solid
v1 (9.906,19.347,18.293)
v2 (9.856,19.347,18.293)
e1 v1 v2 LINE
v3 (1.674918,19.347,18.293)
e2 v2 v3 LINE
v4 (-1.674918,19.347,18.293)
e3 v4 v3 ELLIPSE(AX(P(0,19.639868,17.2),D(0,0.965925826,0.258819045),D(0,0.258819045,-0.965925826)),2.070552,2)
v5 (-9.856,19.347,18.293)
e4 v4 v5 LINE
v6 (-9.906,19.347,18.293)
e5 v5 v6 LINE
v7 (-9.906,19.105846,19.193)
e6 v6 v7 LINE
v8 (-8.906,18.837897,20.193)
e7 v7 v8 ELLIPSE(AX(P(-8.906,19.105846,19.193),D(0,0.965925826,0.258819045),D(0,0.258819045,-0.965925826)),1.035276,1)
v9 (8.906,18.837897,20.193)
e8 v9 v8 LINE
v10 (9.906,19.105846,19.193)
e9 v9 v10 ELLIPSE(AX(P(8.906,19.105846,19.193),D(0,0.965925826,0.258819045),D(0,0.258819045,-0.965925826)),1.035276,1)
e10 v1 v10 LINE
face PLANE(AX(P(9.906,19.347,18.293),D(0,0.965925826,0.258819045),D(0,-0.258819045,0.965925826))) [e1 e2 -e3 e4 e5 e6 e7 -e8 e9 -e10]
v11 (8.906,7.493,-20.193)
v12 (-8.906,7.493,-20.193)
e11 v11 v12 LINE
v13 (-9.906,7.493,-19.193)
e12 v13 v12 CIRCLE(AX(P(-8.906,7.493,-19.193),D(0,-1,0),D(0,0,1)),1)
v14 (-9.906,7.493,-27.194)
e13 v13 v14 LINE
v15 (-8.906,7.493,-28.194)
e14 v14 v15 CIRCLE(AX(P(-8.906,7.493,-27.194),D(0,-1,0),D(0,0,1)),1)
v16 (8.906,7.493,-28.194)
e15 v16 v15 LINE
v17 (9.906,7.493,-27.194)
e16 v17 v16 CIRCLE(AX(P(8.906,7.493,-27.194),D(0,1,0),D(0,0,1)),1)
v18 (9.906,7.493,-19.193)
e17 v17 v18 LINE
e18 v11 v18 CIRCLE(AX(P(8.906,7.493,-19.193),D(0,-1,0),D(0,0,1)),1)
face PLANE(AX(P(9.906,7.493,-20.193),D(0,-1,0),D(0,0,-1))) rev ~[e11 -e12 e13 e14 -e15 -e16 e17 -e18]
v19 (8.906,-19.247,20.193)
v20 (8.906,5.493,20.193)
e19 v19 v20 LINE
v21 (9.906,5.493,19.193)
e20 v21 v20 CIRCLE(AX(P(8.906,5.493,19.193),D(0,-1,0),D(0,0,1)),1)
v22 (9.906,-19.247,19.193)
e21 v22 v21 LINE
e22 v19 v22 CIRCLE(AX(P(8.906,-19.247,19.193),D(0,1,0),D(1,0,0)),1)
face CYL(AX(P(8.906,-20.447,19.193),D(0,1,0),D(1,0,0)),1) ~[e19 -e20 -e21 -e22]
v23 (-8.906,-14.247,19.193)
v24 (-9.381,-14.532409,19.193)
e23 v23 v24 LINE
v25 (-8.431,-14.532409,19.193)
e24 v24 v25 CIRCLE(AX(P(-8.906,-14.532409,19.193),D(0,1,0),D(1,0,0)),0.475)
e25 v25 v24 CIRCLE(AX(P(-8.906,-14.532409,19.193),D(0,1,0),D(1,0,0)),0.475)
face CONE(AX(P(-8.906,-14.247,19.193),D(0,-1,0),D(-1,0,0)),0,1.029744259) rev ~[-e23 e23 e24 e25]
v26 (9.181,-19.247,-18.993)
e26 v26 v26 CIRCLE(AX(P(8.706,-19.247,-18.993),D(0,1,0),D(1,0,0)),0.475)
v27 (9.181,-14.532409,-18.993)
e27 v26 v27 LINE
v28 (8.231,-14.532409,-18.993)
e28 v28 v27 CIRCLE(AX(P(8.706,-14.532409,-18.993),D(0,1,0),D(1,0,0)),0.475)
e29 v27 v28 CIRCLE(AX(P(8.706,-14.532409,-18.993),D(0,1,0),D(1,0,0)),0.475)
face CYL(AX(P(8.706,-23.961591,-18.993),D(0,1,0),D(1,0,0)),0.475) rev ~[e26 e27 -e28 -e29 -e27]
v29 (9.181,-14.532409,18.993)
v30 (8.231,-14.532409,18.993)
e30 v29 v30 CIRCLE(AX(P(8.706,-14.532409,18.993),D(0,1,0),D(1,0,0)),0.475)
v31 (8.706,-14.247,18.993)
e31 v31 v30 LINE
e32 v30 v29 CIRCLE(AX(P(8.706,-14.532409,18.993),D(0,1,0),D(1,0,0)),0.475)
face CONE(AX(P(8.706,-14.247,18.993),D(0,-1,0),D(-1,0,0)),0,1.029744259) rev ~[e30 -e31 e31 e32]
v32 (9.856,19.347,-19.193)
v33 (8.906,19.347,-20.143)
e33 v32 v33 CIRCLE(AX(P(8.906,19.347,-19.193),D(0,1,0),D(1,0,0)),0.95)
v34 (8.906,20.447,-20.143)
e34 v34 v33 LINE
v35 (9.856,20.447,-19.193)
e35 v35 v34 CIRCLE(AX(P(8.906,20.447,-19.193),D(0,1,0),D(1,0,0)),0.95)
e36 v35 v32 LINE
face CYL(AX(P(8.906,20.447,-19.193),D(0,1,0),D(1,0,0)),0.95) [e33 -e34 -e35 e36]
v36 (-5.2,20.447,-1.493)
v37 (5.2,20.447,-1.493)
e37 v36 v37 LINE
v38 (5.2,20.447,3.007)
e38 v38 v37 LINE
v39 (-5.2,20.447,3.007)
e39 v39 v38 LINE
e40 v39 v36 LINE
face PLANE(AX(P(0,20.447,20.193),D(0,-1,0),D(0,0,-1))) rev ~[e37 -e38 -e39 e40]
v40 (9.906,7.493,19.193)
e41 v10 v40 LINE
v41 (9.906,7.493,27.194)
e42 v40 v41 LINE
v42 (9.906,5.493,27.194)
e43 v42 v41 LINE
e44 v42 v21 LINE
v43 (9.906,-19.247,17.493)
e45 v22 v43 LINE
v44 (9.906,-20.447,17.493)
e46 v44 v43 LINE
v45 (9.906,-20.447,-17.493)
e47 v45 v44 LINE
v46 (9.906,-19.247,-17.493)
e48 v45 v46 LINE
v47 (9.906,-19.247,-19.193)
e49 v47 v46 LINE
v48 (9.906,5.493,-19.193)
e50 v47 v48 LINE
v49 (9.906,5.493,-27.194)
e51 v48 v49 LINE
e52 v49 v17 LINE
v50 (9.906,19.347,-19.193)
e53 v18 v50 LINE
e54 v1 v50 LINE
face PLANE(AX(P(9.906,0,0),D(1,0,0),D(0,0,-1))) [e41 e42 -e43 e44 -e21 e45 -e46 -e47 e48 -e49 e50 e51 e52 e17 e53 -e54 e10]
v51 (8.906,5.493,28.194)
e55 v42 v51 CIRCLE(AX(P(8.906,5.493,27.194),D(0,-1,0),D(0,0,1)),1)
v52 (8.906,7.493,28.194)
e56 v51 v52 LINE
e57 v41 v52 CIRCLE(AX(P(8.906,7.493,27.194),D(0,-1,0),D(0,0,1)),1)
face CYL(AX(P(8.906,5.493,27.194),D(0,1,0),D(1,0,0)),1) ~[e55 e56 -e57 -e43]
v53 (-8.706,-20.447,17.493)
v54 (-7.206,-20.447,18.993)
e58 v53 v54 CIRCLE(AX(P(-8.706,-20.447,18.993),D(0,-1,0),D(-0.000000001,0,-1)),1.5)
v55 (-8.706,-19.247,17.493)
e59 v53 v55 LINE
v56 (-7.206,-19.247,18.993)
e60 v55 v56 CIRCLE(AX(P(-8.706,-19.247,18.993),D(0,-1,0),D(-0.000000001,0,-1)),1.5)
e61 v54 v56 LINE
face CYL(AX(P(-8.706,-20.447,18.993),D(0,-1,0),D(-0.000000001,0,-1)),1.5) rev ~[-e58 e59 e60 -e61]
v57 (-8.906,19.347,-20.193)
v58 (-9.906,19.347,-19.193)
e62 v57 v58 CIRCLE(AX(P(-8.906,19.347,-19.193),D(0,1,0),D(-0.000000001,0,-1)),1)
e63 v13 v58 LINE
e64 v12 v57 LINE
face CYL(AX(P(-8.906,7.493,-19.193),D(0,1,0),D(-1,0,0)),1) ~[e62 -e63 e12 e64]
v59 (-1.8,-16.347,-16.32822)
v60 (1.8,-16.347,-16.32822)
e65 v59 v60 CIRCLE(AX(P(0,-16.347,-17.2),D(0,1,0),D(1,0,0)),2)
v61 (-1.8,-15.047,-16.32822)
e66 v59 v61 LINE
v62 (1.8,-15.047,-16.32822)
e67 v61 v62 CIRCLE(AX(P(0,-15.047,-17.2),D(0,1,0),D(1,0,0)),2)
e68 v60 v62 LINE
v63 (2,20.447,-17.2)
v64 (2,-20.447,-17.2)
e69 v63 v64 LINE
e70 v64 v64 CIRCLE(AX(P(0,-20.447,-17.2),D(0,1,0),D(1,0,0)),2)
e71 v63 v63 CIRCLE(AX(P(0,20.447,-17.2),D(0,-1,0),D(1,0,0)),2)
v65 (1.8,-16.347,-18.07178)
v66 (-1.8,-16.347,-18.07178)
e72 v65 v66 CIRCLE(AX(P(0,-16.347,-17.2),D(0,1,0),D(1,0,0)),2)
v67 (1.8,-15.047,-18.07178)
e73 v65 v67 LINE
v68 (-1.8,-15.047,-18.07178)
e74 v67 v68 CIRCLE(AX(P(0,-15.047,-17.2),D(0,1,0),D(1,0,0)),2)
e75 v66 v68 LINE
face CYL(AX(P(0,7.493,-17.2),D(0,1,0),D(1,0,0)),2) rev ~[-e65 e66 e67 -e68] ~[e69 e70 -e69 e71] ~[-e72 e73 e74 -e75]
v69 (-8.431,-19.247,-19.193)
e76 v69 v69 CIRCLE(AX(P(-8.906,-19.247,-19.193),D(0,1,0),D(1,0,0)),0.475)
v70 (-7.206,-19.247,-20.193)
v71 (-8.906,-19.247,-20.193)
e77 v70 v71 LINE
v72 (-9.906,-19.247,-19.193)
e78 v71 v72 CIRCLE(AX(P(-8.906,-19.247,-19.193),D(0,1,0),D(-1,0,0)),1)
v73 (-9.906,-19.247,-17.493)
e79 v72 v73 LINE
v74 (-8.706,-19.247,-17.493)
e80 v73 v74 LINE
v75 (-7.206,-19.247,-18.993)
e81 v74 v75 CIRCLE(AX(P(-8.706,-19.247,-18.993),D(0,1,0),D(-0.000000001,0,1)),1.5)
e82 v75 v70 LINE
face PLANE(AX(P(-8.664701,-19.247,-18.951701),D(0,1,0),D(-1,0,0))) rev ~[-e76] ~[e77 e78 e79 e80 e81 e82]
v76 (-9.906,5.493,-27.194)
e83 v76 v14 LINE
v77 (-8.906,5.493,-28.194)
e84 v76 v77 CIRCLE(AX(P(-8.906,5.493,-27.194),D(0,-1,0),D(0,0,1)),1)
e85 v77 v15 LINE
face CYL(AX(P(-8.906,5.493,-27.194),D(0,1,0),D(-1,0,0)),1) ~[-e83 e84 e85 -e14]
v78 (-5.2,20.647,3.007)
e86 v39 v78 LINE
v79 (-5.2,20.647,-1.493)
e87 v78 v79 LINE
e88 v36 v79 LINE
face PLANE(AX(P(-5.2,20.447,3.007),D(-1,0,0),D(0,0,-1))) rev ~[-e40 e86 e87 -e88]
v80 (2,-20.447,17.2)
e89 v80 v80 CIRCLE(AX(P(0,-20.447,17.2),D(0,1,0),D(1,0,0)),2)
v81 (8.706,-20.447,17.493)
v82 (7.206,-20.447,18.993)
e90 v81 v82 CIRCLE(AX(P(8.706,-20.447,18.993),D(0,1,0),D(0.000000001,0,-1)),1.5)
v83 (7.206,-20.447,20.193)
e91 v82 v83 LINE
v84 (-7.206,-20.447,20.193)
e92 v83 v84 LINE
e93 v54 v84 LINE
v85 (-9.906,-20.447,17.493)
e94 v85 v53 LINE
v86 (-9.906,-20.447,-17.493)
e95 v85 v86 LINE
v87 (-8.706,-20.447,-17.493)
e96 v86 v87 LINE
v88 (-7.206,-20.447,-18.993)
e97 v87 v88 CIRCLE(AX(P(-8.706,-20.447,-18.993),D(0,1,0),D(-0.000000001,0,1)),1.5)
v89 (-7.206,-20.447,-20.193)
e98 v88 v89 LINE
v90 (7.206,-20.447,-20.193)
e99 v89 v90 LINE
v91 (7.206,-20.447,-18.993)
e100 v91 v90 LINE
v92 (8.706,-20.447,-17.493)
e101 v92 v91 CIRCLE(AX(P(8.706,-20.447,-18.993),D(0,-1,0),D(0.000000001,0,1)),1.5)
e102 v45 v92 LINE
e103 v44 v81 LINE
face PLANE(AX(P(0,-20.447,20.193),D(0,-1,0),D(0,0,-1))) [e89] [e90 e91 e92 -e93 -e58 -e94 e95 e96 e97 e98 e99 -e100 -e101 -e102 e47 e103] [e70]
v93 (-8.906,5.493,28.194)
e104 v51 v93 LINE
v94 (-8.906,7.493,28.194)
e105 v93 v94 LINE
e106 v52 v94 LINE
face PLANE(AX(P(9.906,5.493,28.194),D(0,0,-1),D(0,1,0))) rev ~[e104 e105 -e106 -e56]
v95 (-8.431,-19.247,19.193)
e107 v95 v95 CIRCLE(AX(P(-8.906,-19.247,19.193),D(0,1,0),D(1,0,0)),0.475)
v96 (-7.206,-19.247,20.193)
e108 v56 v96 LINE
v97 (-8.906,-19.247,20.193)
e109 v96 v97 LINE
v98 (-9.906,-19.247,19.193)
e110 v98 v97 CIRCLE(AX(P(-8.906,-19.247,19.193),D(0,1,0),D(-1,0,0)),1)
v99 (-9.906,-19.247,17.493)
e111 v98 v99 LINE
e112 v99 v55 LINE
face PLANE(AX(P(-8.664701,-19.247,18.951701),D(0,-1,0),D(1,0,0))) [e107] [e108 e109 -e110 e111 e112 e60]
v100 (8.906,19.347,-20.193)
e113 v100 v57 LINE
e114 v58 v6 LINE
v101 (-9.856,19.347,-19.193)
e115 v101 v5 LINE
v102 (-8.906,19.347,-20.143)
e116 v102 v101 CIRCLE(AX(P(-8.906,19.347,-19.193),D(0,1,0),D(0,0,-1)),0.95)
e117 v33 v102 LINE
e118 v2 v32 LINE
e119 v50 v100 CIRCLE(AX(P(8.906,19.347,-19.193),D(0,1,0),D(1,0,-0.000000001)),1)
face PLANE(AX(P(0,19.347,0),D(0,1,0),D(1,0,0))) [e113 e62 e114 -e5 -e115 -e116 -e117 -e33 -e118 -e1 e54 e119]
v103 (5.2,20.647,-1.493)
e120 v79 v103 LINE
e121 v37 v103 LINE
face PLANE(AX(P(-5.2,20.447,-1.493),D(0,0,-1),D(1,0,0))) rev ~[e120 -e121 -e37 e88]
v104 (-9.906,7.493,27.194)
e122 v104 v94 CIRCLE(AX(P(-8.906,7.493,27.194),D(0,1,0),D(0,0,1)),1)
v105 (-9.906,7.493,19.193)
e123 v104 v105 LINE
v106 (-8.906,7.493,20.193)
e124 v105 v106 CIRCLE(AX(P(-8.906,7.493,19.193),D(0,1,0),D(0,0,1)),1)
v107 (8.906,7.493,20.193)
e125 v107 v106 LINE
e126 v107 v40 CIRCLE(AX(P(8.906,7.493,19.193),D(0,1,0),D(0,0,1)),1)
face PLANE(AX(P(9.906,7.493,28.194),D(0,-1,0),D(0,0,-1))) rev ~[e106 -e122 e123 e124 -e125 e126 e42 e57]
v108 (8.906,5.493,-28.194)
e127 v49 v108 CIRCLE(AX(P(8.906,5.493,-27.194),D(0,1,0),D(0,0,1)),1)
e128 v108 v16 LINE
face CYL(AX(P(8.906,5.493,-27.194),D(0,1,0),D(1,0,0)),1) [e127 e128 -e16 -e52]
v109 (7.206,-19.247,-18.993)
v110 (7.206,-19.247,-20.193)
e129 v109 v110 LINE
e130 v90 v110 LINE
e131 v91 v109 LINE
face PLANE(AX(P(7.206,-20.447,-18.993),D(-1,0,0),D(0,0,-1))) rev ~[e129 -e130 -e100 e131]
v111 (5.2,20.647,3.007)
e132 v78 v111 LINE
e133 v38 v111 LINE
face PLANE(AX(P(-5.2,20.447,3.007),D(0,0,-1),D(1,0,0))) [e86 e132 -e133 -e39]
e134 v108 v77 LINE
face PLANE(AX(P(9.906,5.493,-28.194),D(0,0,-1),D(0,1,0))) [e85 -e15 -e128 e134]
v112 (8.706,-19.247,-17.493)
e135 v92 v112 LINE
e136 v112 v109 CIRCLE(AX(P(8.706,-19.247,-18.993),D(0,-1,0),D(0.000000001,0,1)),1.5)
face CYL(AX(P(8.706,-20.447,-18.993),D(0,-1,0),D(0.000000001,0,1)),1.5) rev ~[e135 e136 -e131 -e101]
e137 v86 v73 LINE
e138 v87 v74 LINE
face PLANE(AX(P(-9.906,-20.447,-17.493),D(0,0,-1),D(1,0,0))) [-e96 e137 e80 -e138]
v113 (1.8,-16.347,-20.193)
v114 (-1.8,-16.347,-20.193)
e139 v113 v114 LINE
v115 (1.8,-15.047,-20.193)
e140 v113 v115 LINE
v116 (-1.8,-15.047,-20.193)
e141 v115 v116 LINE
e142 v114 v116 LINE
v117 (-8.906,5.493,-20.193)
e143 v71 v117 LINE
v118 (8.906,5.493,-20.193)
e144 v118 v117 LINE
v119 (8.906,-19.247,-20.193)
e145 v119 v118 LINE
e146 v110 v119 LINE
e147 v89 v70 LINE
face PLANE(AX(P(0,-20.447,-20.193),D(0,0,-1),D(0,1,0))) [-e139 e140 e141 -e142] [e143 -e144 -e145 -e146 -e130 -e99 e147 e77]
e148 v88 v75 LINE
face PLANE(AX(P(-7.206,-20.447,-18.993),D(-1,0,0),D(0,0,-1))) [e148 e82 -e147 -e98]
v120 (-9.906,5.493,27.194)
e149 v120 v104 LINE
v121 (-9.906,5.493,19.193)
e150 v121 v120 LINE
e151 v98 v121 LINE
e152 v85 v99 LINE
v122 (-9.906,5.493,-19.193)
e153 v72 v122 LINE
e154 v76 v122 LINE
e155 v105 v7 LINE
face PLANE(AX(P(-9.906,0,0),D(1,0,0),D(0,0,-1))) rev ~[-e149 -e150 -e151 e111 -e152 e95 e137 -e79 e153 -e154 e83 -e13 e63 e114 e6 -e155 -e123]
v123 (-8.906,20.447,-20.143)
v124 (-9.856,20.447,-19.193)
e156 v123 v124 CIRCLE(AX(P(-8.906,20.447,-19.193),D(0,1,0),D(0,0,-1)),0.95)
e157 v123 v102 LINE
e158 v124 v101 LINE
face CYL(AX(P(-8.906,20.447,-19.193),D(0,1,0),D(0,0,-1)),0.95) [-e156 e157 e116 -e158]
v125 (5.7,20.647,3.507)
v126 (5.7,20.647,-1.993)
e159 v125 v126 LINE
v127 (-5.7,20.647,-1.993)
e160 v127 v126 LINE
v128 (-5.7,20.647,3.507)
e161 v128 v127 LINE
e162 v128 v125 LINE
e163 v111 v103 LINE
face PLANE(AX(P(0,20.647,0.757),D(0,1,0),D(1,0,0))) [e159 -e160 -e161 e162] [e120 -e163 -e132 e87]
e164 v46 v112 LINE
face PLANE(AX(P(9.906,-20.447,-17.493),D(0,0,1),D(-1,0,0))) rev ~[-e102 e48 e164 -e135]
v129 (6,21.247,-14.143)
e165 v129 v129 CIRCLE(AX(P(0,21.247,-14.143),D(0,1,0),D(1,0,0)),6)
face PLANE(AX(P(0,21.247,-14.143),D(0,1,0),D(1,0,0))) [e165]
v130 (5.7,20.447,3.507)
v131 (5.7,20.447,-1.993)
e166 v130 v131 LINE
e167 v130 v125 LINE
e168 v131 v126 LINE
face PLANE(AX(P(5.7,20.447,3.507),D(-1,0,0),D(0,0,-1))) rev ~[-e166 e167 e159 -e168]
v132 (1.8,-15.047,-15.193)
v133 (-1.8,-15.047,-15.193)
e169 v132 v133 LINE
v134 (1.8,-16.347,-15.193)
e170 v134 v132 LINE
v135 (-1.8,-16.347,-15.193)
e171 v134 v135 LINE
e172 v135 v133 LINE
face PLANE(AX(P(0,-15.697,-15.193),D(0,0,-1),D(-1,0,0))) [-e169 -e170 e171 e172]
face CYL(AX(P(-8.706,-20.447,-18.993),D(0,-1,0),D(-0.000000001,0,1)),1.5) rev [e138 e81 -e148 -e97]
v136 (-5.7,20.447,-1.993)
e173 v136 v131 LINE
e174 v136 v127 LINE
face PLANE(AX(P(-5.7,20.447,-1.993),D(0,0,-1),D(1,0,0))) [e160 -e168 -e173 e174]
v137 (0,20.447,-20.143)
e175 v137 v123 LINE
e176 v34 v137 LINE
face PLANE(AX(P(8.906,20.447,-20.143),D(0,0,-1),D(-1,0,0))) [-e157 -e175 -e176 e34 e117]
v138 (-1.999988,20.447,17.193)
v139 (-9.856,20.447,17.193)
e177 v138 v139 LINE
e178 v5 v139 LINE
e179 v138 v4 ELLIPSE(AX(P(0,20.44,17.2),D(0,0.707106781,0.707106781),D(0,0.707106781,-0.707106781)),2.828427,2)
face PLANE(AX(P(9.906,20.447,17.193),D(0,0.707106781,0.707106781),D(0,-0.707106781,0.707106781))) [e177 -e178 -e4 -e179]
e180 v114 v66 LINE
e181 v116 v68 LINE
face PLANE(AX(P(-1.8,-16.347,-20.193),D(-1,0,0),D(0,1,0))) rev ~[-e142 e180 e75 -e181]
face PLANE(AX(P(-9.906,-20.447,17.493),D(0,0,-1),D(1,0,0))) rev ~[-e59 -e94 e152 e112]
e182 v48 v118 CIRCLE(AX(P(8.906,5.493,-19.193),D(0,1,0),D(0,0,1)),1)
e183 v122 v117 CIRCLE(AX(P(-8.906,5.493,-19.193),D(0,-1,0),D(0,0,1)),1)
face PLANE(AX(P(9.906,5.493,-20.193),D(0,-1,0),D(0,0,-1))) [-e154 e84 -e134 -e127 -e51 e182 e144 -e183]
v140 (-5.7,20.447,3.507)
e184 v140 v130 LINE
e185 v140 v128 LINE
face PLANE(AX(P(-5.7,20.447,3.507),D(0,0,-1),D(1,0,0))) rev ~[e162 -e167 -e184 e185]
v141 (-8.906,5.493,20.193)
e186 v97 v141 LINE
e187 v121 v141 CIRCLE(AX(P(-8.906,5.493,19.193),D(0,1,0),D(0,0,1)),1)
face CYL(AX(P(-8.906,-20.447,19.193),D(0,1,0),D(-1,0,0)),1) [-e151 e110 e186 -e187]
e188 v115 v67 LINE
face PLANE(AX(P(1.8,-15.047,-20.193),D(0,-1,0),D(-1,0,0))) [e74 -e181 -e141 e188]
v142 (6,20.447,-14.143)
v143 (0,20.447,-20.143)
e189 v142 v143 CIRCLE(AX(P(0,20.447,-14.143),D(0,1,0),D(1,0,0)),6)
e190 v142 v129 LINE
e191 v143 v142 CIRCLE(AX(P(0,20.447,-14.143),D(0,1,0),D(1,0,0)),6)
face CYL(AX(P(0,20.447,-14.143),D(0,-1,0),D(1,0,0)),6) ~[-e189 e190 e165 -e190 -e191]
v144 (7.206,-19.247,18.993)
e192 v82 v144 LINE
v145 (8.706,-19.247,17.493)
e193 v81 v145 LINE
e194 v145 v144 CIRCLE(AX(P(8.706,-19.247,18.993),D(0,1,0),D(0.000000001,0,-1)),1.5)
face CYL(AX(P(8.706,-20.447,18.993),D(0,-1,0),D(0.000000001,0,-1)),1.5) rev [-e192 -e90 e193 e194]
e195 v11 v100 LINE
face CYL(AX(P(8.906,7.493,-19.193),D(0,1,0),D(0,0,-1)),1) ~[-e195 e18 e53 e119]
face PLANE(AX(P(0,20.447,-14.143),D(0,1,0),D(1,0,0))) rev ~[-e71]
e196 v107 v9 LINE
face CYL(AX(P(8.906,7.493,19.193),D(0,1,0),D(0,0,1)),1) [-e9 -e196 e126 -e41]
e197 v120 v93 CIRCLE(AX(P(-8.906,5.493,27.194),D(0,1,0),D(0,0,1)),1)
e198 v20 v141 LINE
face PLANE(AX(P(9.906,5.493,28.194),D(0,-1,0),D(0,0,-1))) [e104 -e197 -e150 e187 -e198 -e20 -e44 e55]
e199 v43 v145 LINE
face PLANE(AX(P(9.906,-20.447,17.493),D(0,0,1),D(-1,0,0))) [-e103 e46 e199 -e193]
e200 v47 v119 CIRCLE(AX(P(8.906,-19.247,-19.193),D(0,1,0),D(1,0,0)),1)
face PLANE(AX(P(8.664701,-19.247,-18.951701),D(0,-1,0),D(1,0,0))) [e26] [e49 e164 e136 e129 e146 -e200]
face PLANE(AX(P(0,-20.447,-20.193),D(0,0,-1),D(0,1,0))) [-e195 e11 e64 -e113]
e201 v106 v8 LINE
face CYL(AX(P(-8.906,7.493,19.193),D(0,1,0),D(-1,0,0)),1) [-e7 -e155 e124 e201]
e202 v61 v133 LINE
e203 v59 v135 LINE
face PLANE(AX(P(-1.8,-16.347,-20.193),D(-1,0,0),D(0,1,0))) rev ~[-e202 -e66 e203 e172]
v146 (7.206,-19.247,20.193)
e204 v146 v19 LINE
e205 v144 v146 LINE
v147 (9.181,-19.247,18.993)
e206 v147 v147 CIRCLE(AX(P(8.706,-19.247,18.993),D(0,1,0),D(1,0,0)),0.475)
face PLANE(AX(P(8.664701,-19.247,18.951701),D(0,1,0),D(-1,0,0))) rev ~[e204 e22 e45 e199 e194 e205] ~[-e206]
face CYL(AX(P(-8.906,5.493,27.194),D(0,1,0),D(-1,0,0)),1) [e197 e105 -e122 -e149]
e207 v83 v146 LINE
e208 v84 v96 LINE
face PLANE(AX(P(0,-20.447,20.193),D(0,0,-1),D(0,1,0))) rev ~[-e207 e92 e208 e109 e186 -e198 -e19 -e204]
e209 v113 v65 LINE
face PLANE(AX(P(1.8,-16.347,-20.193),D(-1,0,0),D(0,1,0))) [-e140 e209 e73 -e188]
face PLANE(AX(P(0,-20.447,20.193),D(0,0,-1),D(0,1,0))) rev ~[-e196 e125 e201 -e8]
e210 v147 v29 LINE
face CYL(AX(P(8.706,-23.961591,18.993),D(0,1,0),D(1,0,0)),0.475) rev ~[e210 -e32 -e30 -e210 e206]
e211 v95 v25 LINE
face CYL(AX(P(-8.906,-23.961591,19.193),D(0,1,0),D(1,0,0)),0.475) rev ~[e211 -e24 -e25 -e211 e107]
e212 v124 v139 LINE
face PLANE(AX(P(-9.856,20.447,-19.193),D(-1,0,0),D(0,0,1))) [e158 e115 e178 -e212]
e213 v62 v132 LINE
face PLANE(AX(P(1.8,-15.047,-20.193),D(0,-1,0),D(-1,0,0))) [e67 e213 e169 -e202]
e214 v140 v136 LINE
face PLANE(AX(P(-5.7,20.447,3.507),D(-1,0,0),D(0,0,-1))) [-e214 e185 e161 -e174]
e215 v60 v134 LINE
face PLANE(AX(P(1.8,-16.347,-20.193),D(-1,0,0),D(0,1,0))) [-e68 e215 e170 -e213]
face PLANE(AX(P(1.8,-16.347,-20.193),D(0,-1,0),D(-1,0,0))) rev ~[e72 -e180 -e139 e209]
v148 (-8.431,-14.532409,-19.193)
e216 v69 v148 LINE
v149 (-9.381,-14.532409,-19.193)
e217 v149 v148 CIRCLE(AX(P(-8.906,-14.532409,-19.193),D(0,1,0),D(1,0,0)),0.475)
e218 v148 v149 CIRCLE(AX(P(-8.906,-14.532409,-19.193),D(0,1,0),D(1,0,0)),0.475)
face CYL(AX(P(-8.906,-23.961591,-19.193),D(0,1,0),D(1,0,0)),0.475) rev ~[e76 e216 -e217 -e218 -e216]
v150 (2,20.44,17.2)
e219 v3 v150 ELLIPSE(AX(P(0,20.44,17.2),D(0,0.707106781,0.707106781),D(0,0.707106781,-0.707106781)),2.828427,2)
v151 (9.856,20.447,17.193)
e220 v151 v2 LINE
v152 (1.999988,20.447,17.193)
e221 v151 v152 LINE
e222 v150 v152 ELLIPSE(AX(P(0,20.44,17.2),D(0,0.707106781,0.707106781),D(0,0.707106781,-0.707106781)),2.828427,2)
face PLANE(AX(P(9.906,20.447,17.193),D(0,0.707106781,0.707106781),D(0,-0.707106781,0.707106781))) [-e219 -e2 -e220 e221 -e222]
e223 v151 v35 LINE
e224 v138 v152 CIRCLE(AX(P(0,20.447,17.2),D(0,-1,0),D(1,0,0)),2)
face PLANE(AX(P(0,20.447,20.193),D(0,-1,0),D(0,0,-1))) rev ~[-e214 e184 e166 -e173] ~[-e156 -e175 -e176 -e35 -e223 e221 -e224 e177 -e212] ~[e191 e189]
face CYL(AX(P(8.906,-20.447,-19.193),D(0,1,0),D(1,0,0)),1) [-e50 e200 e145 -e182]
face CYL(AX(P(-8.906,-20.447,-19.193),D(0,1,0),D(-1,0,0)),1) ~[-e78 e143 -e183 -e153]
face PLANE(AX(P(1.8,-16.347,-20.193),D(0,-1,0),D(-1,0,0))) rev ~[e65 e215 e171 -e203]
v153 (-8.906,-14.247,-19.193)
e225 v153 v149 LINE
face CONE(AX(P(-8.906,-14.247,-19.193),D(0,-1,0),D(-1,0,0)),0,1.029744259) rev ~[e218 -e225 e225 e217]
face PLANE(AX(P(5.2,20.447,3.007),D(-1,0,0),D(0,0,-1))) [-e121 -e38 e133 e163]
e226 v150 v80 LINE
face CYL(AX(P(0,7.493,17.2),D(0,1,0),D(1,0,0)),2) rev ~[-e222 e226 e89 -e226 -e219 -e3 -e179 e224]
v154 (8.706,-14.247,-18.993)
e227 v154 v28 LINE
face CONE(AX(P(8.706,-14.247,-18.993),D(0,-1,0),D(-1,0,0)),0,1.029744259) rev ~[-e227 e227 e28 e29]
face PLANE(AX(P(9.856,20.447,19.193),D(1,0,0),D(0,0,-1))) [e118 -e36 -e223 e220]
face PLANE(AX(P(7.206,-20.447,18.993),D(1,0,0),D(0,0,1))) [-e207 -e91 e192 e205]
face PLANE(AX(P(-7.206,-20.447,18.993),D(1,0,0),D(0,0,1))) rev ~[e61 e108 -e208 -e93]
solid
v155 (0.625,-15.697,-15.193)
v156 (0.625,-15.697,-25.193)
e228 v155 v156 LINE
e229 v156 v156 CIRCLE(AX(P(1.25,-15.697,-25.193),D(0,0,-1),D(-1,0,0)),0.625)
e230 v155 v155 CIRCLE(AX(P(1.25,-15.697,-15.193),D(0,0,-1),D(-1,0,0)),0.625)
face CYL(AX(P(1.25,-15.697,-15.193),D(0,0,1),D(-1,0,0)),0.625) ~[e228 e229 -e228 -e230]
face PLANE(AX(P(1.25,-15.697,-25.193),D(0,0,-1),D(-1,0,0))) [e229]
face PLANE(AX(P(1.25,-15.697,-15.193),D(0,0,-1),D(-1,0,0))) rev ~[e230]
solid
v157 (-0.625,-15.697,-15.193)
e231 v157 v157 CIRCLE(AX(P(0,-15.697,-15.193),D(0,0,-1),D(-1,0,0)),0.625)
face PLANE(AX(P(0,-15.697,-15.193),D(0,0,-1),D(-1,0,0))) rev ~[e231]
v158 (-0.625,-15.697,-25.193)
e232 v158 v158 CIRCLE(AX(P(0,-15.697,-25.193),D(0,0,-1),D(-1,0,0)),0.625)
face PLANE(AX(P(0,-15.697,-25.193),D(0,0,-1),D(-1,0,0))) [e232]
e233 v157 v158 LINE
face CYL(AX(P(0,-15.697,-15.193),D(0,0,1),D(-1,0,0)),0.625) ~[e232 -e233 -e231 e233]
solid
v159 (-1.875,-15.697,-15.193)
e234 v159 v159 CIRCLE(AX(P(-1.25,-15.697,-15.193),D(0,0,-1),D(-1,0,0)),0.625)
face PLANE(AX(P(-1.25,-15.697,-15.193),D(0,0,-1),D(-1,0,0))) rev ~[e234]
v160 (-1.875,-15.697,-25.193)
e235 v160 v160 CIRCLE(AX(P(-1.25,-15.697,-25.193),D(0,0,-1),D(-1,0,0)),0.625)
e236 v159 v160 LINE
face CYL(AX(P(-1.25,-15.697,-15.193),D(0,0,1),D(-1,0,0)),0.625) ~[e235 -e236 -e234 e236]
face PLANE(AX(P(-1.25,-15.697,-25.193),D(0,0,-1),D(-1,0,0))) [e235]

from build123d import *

# Parameters (mm, degrees)
ESQUISSE1_W                                   = 40.386
ESQUISSE1_H                                   = 40.894
BOSS_EXTRU_1_DEPTH                            = 9.906
ESQUISSE3_W                                   = 8.001
ESQUISSE3_H                                   = 2
BOSS_EXTRU_2_DEPTH                            = 19.812
ESQUISSE6_R                                   = 2
ENL_V_MAT_EXTRU_1_DEPTH                       = 13.954000064
ENL_V_MAT_EXTRU_1_DEPTH_BACK                  = 28.939999936
ESQUISSE5_R                                   = 6
BOSS_EXTRU_3_DEPTH                            = 0.8
CONG_2_R                                      = 1
ENL_V_MAT_EXTRU_2_DEPTH                       = 1.1
ENL_V_MAT_EXTRU_3_DEPTH                       = 1
ENL_V_MAT_EXTRU_3_DEPTH_BACK                  = 20.812
ESQUISSE9_W                                   = 11.4
ESQUISSE9_H                                   = 5.5
ESQUISSE9_W_2                                 = 10.4
ESQUISSE9_H_2                                 = 4.5
EXTRU_MINCE1_DEPTH                            = 0.2
ENL_V_MAT_EXTRU_4_DEPTH                       = 1
ENL_V_MAT_EXTRU_4_DEPTH_BACK                  = 1.2
TROU_POUR_TARAUDAGE_POUR_TROU_TARAUD_M1_D     = 0.95
TROU_POUR_TARAUDAGE_POUR_TROU_TARAUD_M1_DEPTH = 4.714591206
TROU_POUR_TARAUDAGE_POUR_TROU_TARAUD_M1_TIP   = 0.285408794
ESQUISSE16_W                                  = 3.6
ESQUISSE16_H                                  = 1.3
ENL_V_MAT_EXTRU_5_DEPTH                       = 5
ESQUISSE17_R                                  = 0.625
BOSS_EXTRU_5_DEPTH                            = 10
BOSS_EXTRU_5_2_DEPTH                          = 10
BOSS_EXTRU_5_3_DEPTH                          = 10


with BuildPart() as part:
    # Esquisse1 → Boss.-Extru.1 (new body, symmetric)
    with BuildSketch(Plane(origin=(0, 0, 0), x_dir=(0, 0, -1), z_dir=(1, 0, 0))):
        Rectangle(ESQUISSE1_W, ESQUISSE1_H)
    extrude(amount=BOSS_EXTRU_1_DEPTH, both=True)

    # Esquisse3 → Boss.-Extru.2 (add)
    with BuildSketch(Plane(origin=(9.906, 0, 0), x_dir=(0, 0, -1), z_dir=(1, 0, 0))):
        with Locations((-24.1935, 6.492999936)):
            Rectangle(ESQUISSE3_W, ESQUISSE3_H)
        with Locations((24.1935, 6.492999936)):
            Rectangle(ESQUISSE3_W, ESQUISSE3_H)
    extrude(amount=-BOSS_EXTRU_2_DEPTH)

    # Esquisse6 → Enlèv. mat.-Extru.1 (cut, two sides)
    with BuildSketch(Plane(origin=(0, 7.492999936, 0), x_dir=(1, 0, 0), z_dir=(0, 1, 0))) as enl_v_mat_extru_1_sk:
        with Locations((0, 17.2)):
            Circle(ESQUISSE6_R)
        with Locations((0, -17.2)):
            Circle(ESQUISSE6_R)
    extrude(amount=ENL_V_MAT_EXTRU_1_DEPTH, mode=Mode.SUBTRACT)
    extrude(enl_v_mat_extru_1_sk.sketch, amount=-ENL_V_MAT_EXTRU_1_DEPTH_BACK, mode=Mode.SUBTRACT)

    # Esquisse5 → Boss.-Extru.3 (add)
    with BuildSketch(Plane(origin=(0, 20.447, 0), x_dir=(1, 0, 0), z_dir=(0, 1, 0))):
        with Locations((0, 14.143)):
            Circle(ESQUISSE5_R)
    extrude(amount=BOSS_EXTRU_3_DEPTH)

    # Congé2
    cong_2_edges = [part.edges().sort_by_distance(p)[0] for p in [
        (9.906, -7.477000032, -20.193),
        (-9.906, 13.969999968, -20.193),
        (9.906, 13.969999968, -20.193),
        (-9.906, -7.477000032, 20.193),
        (9.906, -7.477000032, 20.193),
        (9.906, 6.492999936, 28.194),
        (-9.906, 6.492999936, 28.194),
        (9.906, 6.492999936, -28.194),
        (-9.906, 6.492999936, -28.194),
        (9.906, 13.969999968, 20.193),
        (-9.906, -7.477000032, -20.193),
        (-9.906, 13.969999968, 20.193),
    ]]
    fillet(cong_2_edges, radius=CONG_2_R)

    # Esquisse7 → Enlèv. mat.-Extru.2 (cut)
    with BuildSketch(Plane(origin=(0, 20.447, 0), x_dir=(1, 0, 0), z_dir=(0, 1, 0))):
        with BuildLine():
            Line((8.906, 20.193), (-8.906, 20.193))
            ThreePointArc((-8.906, 20.193), (-9.613106781, 19.900106781), (-9.906, 19.193))
            Line((-9.906, 19.193), (-9.906, -19.193))
            ThreePointArc((-9.906, -19.193), (-9.613106781, -19.900106781), (-8.906, -20.193))
            Line((-8.906, -20.193), (8.906, -20.193))
            ThreePointArc((8.906, -20.193), (9.613106781, -19.900106781), (9.906, -19.193))
            Line((9.906, -19.193), (9.906, 19.193))
            ThreePointArc((9.906, 19.193), (9.613106781, 19.900106781), (8.906, 20.193))
        make_face()
        with BuildLine():
            Line((8.906, 20.143), (-8.906, 20.143))
            ThreePointArc((-8.906, 20.143), (-9.577751442, 19.864751442), (-9.856, 19.193))
            Line((-9.856, 19.193), (-9.856, -19.193))
            ThreePointArc((-9.856, -19.193), (-9.577751442, -19.864751442), (-8.906, -20.143))
            Line((-8.906, -20.143), (8.906, -20.143))
            ThreePointArc((8.906, -20.143), (9.577751442, -19.864751442), (9.856, -19.193))
            Line((9.856, -19.193), (9.856, 19.193))
            ThreePointArc((9.856, 19.193), (9.577751442, 19.864751442), (8.906, 20.143))
        make_face(mode=Mode.SUBTRACT)
    extrude(amount=-ENL_V_MAT_EXTRU_2_DEPTH, mode=Mode.SUBTRACT)

    # Esquisse8 → Enlèv. mat.-Extru.3 (cut, two sides)
    with BuildSketch(Plane(origin=(9.906, 0, 0), x_dir=(0, 0, -1), z_dir=(1, 0, 0))) as enl_v_mat_extru_3_sk:
        Polygon((-17.193, 20.447), (-18.293, 19.347), (-20.193, 18.837896534), (-20.193, 20.447), align=None)
    extrude(amount=ENL_V_MAT_EXTRU_3_DEPTH, mode=Mode.SUBTRACT)
    extrude(enl_v_mat_extru_3_sk.sketch, amount=-ENL_V_MAT_EXTRU_3_DEPTH_BACK, mode=Mode.SUBTRACT)

    # Esquisse9 → Extru.-Mince1 (add)
    with BuildSketch(Plane(origin=(0, 20.447, 0), x_dir=(1, 0, 0), z_dir=(0, 1, 0))):
        with Locations((0, -0.757)):
            Rectangle(ESQUISSE9_W, ESQUISSE9_H)
        with Locations((0, -0.757)):
            Rectangle(ESQUISSE9_W_2, ESQUISSE9_H_2, mode=Mode.SUBTRACT)
    extrude(amount=EXTRU_MINCE1_DEPTH)

    # Esquisse13 → Enlèv. mat.-Extru.4 (cut, two sides)
    with BuildSketch(Plane.XZ.offset(20.447)) as enl_v_mat_extru_4_sk:
        with BuildLine():
            Line((-7.206, 20.193), (-9.906, 20.193))
            Line((-9.906, 20.193), (-9.906, 17.493))
            Line((-9.906, 17.493), (-8.706, 17.493))
            ThreePointArc((-8.706, 17.493), (-7.645339828, 17.932339828), (-7.206, 18.993))
            Line((-7.206, 18.993), (-7.206, 20.193))
        make_face()
        with BuildLine():
            Line((9.906, 20.193), (9.906, 17.493))
            Line((9.906, 17.493), (8.706, 17.493))
            ThreePointArc((8.706, 17.493), (7.645339828, 17.932339828), (7.206, 18.993))
            Line((7.206, 18.993), (7.206, 20.193))
            Line((7.206, 20.193), (9.906, 20.193))
        make_face()
        with BuildLine():
            Line((7.206, -20.193), (9.906, -20.193))
            Line((9.906, -20.193), (9.906, -17.493))
            Line((9.906, -17.493), (8.706, -17.493))
            ThreePointArc((8.706, -17.493), (7.645339828, -17.932339828), (7.206, -18.993))
            Line((7.206, -18.993), (7.206, -20.193))
        make_face()
        with BuildLine():
            Line((-9.906, -20.193), (-9.906, -17.493))
            Line((-9.906, -17.493), (-8.706, -17.493))
            ThreePointArc((-8.706, -17.493), (-7.645339828, -17.932339828), (-7.206, -18.993))
            Line((-7.206, -18.993), (-7.206, -20.193))
            Line((-7.206, -20.193), (-9.906, -20.193))
        make_face()
    extrude(amount=ENL_V_MAT_EXTRU_4_DEPTH, mode=Mode.SUBTRACT)
    extrude(enl_v_mat_extru_4_sk.sketch, amount=-ENL_V_MAT_EXTRU_4_DEPTH_BACK, mode=Mode.SUBTRACT)

    # Trou pour taraudage pour trou taraudé M1.2x0.251
    with Locations(Plane(origin=(0, -19.247, 0), x_dir=(-1, 0, 0), z_dir=(0, -1, 0))):
        with Locations((-8.706, -18.993), (8.906, -19.193), (-8.706, 18.993), (8.906, 19.193)):
            Hole(TROU_POUR_TARAUDAGE_POUR_TROU_TARAUD_M1_D / 2, depth=TROU_POUR_TARAUDAGE_POUR_TROU_TARAUD_M1_DEPTH)
            with Locations((0, 0, -(TROU_POUR_TARAUDAGE_POUR_TROU_TARAUD_M1_DEPTH + TROU_POUR_TARAUDAGE_POUR_TROU_TARAUD_M1_TIP / 2))):  # 118° drill point
                Cone(0, TROU_POUR_TARAUDAGE_POUR_TROU_TARAUD_M1_D / 2, TROU_POUR_TARAUDAGE_POUR_TROU_TARAUD_M1_TIP, mode=Mode.SUBTRACT)

    # Esquisse16 → Enlèv. mat.-Extru.5 (cut)
    with BuildSketch(Plane(origin=(0, 0, -20.193), x_dir=(-1, 0, 0), z_dir=(0, 0, -1))):
        with Locations((0, -15.697)):
            Rectangle(ESQUISSE16_W, ESQUISSE16_H)
    extrude(amount=-ENL_V_MAT_EXTRU_5_DEPTH, mode=Mode.SUBTRACT)


with BuildPart() as body_2:
    # Esquisse17 → Boss.-Extru.5 (new body)
    with BuildSketch(Plane(origin=(0, 0, -15.193), x_dir=(-1, 0, 0), z_dir=(0, 0, -1))):
        with Locations((0, -15.697)):
            Circle(ESQUISSE17_R)
    extrude(amount=BOSS_EXTRU_5_DEPTH)


with BuildPart() as body_3:
    # Esquisse17 → Boss.-Extru.5 2 (new body)
    with BuildSketch(Plane(origin=(0, 0, -15.193), x_dir=(-1, 0, 0), z_dir=(0, 0, -1))):
        with Locations((-1.25, -15.697)):
            Circle(ESQUISSE17_R)
    extrude(amount=BOSS_EXTRU_5_2_DEPTH)


with BuildPart() as body_4:
    # Esquisse17 → Boss.-Extru.5 3 (new body)
    with BuildSketch(Plane(origin=(0, 0, -15.193), x_dir=(-1, 0, 0), z_dir=(0, 0, -1))):
        with Locations((1.25, -15.697)):
            Circle(ESQUISSE17_R)
    extrude(amount=BOSS_EXTRU_5_3_DEPTH)


solid = Compound([part.part, body_2.part, body_3.part, body_4.part])
